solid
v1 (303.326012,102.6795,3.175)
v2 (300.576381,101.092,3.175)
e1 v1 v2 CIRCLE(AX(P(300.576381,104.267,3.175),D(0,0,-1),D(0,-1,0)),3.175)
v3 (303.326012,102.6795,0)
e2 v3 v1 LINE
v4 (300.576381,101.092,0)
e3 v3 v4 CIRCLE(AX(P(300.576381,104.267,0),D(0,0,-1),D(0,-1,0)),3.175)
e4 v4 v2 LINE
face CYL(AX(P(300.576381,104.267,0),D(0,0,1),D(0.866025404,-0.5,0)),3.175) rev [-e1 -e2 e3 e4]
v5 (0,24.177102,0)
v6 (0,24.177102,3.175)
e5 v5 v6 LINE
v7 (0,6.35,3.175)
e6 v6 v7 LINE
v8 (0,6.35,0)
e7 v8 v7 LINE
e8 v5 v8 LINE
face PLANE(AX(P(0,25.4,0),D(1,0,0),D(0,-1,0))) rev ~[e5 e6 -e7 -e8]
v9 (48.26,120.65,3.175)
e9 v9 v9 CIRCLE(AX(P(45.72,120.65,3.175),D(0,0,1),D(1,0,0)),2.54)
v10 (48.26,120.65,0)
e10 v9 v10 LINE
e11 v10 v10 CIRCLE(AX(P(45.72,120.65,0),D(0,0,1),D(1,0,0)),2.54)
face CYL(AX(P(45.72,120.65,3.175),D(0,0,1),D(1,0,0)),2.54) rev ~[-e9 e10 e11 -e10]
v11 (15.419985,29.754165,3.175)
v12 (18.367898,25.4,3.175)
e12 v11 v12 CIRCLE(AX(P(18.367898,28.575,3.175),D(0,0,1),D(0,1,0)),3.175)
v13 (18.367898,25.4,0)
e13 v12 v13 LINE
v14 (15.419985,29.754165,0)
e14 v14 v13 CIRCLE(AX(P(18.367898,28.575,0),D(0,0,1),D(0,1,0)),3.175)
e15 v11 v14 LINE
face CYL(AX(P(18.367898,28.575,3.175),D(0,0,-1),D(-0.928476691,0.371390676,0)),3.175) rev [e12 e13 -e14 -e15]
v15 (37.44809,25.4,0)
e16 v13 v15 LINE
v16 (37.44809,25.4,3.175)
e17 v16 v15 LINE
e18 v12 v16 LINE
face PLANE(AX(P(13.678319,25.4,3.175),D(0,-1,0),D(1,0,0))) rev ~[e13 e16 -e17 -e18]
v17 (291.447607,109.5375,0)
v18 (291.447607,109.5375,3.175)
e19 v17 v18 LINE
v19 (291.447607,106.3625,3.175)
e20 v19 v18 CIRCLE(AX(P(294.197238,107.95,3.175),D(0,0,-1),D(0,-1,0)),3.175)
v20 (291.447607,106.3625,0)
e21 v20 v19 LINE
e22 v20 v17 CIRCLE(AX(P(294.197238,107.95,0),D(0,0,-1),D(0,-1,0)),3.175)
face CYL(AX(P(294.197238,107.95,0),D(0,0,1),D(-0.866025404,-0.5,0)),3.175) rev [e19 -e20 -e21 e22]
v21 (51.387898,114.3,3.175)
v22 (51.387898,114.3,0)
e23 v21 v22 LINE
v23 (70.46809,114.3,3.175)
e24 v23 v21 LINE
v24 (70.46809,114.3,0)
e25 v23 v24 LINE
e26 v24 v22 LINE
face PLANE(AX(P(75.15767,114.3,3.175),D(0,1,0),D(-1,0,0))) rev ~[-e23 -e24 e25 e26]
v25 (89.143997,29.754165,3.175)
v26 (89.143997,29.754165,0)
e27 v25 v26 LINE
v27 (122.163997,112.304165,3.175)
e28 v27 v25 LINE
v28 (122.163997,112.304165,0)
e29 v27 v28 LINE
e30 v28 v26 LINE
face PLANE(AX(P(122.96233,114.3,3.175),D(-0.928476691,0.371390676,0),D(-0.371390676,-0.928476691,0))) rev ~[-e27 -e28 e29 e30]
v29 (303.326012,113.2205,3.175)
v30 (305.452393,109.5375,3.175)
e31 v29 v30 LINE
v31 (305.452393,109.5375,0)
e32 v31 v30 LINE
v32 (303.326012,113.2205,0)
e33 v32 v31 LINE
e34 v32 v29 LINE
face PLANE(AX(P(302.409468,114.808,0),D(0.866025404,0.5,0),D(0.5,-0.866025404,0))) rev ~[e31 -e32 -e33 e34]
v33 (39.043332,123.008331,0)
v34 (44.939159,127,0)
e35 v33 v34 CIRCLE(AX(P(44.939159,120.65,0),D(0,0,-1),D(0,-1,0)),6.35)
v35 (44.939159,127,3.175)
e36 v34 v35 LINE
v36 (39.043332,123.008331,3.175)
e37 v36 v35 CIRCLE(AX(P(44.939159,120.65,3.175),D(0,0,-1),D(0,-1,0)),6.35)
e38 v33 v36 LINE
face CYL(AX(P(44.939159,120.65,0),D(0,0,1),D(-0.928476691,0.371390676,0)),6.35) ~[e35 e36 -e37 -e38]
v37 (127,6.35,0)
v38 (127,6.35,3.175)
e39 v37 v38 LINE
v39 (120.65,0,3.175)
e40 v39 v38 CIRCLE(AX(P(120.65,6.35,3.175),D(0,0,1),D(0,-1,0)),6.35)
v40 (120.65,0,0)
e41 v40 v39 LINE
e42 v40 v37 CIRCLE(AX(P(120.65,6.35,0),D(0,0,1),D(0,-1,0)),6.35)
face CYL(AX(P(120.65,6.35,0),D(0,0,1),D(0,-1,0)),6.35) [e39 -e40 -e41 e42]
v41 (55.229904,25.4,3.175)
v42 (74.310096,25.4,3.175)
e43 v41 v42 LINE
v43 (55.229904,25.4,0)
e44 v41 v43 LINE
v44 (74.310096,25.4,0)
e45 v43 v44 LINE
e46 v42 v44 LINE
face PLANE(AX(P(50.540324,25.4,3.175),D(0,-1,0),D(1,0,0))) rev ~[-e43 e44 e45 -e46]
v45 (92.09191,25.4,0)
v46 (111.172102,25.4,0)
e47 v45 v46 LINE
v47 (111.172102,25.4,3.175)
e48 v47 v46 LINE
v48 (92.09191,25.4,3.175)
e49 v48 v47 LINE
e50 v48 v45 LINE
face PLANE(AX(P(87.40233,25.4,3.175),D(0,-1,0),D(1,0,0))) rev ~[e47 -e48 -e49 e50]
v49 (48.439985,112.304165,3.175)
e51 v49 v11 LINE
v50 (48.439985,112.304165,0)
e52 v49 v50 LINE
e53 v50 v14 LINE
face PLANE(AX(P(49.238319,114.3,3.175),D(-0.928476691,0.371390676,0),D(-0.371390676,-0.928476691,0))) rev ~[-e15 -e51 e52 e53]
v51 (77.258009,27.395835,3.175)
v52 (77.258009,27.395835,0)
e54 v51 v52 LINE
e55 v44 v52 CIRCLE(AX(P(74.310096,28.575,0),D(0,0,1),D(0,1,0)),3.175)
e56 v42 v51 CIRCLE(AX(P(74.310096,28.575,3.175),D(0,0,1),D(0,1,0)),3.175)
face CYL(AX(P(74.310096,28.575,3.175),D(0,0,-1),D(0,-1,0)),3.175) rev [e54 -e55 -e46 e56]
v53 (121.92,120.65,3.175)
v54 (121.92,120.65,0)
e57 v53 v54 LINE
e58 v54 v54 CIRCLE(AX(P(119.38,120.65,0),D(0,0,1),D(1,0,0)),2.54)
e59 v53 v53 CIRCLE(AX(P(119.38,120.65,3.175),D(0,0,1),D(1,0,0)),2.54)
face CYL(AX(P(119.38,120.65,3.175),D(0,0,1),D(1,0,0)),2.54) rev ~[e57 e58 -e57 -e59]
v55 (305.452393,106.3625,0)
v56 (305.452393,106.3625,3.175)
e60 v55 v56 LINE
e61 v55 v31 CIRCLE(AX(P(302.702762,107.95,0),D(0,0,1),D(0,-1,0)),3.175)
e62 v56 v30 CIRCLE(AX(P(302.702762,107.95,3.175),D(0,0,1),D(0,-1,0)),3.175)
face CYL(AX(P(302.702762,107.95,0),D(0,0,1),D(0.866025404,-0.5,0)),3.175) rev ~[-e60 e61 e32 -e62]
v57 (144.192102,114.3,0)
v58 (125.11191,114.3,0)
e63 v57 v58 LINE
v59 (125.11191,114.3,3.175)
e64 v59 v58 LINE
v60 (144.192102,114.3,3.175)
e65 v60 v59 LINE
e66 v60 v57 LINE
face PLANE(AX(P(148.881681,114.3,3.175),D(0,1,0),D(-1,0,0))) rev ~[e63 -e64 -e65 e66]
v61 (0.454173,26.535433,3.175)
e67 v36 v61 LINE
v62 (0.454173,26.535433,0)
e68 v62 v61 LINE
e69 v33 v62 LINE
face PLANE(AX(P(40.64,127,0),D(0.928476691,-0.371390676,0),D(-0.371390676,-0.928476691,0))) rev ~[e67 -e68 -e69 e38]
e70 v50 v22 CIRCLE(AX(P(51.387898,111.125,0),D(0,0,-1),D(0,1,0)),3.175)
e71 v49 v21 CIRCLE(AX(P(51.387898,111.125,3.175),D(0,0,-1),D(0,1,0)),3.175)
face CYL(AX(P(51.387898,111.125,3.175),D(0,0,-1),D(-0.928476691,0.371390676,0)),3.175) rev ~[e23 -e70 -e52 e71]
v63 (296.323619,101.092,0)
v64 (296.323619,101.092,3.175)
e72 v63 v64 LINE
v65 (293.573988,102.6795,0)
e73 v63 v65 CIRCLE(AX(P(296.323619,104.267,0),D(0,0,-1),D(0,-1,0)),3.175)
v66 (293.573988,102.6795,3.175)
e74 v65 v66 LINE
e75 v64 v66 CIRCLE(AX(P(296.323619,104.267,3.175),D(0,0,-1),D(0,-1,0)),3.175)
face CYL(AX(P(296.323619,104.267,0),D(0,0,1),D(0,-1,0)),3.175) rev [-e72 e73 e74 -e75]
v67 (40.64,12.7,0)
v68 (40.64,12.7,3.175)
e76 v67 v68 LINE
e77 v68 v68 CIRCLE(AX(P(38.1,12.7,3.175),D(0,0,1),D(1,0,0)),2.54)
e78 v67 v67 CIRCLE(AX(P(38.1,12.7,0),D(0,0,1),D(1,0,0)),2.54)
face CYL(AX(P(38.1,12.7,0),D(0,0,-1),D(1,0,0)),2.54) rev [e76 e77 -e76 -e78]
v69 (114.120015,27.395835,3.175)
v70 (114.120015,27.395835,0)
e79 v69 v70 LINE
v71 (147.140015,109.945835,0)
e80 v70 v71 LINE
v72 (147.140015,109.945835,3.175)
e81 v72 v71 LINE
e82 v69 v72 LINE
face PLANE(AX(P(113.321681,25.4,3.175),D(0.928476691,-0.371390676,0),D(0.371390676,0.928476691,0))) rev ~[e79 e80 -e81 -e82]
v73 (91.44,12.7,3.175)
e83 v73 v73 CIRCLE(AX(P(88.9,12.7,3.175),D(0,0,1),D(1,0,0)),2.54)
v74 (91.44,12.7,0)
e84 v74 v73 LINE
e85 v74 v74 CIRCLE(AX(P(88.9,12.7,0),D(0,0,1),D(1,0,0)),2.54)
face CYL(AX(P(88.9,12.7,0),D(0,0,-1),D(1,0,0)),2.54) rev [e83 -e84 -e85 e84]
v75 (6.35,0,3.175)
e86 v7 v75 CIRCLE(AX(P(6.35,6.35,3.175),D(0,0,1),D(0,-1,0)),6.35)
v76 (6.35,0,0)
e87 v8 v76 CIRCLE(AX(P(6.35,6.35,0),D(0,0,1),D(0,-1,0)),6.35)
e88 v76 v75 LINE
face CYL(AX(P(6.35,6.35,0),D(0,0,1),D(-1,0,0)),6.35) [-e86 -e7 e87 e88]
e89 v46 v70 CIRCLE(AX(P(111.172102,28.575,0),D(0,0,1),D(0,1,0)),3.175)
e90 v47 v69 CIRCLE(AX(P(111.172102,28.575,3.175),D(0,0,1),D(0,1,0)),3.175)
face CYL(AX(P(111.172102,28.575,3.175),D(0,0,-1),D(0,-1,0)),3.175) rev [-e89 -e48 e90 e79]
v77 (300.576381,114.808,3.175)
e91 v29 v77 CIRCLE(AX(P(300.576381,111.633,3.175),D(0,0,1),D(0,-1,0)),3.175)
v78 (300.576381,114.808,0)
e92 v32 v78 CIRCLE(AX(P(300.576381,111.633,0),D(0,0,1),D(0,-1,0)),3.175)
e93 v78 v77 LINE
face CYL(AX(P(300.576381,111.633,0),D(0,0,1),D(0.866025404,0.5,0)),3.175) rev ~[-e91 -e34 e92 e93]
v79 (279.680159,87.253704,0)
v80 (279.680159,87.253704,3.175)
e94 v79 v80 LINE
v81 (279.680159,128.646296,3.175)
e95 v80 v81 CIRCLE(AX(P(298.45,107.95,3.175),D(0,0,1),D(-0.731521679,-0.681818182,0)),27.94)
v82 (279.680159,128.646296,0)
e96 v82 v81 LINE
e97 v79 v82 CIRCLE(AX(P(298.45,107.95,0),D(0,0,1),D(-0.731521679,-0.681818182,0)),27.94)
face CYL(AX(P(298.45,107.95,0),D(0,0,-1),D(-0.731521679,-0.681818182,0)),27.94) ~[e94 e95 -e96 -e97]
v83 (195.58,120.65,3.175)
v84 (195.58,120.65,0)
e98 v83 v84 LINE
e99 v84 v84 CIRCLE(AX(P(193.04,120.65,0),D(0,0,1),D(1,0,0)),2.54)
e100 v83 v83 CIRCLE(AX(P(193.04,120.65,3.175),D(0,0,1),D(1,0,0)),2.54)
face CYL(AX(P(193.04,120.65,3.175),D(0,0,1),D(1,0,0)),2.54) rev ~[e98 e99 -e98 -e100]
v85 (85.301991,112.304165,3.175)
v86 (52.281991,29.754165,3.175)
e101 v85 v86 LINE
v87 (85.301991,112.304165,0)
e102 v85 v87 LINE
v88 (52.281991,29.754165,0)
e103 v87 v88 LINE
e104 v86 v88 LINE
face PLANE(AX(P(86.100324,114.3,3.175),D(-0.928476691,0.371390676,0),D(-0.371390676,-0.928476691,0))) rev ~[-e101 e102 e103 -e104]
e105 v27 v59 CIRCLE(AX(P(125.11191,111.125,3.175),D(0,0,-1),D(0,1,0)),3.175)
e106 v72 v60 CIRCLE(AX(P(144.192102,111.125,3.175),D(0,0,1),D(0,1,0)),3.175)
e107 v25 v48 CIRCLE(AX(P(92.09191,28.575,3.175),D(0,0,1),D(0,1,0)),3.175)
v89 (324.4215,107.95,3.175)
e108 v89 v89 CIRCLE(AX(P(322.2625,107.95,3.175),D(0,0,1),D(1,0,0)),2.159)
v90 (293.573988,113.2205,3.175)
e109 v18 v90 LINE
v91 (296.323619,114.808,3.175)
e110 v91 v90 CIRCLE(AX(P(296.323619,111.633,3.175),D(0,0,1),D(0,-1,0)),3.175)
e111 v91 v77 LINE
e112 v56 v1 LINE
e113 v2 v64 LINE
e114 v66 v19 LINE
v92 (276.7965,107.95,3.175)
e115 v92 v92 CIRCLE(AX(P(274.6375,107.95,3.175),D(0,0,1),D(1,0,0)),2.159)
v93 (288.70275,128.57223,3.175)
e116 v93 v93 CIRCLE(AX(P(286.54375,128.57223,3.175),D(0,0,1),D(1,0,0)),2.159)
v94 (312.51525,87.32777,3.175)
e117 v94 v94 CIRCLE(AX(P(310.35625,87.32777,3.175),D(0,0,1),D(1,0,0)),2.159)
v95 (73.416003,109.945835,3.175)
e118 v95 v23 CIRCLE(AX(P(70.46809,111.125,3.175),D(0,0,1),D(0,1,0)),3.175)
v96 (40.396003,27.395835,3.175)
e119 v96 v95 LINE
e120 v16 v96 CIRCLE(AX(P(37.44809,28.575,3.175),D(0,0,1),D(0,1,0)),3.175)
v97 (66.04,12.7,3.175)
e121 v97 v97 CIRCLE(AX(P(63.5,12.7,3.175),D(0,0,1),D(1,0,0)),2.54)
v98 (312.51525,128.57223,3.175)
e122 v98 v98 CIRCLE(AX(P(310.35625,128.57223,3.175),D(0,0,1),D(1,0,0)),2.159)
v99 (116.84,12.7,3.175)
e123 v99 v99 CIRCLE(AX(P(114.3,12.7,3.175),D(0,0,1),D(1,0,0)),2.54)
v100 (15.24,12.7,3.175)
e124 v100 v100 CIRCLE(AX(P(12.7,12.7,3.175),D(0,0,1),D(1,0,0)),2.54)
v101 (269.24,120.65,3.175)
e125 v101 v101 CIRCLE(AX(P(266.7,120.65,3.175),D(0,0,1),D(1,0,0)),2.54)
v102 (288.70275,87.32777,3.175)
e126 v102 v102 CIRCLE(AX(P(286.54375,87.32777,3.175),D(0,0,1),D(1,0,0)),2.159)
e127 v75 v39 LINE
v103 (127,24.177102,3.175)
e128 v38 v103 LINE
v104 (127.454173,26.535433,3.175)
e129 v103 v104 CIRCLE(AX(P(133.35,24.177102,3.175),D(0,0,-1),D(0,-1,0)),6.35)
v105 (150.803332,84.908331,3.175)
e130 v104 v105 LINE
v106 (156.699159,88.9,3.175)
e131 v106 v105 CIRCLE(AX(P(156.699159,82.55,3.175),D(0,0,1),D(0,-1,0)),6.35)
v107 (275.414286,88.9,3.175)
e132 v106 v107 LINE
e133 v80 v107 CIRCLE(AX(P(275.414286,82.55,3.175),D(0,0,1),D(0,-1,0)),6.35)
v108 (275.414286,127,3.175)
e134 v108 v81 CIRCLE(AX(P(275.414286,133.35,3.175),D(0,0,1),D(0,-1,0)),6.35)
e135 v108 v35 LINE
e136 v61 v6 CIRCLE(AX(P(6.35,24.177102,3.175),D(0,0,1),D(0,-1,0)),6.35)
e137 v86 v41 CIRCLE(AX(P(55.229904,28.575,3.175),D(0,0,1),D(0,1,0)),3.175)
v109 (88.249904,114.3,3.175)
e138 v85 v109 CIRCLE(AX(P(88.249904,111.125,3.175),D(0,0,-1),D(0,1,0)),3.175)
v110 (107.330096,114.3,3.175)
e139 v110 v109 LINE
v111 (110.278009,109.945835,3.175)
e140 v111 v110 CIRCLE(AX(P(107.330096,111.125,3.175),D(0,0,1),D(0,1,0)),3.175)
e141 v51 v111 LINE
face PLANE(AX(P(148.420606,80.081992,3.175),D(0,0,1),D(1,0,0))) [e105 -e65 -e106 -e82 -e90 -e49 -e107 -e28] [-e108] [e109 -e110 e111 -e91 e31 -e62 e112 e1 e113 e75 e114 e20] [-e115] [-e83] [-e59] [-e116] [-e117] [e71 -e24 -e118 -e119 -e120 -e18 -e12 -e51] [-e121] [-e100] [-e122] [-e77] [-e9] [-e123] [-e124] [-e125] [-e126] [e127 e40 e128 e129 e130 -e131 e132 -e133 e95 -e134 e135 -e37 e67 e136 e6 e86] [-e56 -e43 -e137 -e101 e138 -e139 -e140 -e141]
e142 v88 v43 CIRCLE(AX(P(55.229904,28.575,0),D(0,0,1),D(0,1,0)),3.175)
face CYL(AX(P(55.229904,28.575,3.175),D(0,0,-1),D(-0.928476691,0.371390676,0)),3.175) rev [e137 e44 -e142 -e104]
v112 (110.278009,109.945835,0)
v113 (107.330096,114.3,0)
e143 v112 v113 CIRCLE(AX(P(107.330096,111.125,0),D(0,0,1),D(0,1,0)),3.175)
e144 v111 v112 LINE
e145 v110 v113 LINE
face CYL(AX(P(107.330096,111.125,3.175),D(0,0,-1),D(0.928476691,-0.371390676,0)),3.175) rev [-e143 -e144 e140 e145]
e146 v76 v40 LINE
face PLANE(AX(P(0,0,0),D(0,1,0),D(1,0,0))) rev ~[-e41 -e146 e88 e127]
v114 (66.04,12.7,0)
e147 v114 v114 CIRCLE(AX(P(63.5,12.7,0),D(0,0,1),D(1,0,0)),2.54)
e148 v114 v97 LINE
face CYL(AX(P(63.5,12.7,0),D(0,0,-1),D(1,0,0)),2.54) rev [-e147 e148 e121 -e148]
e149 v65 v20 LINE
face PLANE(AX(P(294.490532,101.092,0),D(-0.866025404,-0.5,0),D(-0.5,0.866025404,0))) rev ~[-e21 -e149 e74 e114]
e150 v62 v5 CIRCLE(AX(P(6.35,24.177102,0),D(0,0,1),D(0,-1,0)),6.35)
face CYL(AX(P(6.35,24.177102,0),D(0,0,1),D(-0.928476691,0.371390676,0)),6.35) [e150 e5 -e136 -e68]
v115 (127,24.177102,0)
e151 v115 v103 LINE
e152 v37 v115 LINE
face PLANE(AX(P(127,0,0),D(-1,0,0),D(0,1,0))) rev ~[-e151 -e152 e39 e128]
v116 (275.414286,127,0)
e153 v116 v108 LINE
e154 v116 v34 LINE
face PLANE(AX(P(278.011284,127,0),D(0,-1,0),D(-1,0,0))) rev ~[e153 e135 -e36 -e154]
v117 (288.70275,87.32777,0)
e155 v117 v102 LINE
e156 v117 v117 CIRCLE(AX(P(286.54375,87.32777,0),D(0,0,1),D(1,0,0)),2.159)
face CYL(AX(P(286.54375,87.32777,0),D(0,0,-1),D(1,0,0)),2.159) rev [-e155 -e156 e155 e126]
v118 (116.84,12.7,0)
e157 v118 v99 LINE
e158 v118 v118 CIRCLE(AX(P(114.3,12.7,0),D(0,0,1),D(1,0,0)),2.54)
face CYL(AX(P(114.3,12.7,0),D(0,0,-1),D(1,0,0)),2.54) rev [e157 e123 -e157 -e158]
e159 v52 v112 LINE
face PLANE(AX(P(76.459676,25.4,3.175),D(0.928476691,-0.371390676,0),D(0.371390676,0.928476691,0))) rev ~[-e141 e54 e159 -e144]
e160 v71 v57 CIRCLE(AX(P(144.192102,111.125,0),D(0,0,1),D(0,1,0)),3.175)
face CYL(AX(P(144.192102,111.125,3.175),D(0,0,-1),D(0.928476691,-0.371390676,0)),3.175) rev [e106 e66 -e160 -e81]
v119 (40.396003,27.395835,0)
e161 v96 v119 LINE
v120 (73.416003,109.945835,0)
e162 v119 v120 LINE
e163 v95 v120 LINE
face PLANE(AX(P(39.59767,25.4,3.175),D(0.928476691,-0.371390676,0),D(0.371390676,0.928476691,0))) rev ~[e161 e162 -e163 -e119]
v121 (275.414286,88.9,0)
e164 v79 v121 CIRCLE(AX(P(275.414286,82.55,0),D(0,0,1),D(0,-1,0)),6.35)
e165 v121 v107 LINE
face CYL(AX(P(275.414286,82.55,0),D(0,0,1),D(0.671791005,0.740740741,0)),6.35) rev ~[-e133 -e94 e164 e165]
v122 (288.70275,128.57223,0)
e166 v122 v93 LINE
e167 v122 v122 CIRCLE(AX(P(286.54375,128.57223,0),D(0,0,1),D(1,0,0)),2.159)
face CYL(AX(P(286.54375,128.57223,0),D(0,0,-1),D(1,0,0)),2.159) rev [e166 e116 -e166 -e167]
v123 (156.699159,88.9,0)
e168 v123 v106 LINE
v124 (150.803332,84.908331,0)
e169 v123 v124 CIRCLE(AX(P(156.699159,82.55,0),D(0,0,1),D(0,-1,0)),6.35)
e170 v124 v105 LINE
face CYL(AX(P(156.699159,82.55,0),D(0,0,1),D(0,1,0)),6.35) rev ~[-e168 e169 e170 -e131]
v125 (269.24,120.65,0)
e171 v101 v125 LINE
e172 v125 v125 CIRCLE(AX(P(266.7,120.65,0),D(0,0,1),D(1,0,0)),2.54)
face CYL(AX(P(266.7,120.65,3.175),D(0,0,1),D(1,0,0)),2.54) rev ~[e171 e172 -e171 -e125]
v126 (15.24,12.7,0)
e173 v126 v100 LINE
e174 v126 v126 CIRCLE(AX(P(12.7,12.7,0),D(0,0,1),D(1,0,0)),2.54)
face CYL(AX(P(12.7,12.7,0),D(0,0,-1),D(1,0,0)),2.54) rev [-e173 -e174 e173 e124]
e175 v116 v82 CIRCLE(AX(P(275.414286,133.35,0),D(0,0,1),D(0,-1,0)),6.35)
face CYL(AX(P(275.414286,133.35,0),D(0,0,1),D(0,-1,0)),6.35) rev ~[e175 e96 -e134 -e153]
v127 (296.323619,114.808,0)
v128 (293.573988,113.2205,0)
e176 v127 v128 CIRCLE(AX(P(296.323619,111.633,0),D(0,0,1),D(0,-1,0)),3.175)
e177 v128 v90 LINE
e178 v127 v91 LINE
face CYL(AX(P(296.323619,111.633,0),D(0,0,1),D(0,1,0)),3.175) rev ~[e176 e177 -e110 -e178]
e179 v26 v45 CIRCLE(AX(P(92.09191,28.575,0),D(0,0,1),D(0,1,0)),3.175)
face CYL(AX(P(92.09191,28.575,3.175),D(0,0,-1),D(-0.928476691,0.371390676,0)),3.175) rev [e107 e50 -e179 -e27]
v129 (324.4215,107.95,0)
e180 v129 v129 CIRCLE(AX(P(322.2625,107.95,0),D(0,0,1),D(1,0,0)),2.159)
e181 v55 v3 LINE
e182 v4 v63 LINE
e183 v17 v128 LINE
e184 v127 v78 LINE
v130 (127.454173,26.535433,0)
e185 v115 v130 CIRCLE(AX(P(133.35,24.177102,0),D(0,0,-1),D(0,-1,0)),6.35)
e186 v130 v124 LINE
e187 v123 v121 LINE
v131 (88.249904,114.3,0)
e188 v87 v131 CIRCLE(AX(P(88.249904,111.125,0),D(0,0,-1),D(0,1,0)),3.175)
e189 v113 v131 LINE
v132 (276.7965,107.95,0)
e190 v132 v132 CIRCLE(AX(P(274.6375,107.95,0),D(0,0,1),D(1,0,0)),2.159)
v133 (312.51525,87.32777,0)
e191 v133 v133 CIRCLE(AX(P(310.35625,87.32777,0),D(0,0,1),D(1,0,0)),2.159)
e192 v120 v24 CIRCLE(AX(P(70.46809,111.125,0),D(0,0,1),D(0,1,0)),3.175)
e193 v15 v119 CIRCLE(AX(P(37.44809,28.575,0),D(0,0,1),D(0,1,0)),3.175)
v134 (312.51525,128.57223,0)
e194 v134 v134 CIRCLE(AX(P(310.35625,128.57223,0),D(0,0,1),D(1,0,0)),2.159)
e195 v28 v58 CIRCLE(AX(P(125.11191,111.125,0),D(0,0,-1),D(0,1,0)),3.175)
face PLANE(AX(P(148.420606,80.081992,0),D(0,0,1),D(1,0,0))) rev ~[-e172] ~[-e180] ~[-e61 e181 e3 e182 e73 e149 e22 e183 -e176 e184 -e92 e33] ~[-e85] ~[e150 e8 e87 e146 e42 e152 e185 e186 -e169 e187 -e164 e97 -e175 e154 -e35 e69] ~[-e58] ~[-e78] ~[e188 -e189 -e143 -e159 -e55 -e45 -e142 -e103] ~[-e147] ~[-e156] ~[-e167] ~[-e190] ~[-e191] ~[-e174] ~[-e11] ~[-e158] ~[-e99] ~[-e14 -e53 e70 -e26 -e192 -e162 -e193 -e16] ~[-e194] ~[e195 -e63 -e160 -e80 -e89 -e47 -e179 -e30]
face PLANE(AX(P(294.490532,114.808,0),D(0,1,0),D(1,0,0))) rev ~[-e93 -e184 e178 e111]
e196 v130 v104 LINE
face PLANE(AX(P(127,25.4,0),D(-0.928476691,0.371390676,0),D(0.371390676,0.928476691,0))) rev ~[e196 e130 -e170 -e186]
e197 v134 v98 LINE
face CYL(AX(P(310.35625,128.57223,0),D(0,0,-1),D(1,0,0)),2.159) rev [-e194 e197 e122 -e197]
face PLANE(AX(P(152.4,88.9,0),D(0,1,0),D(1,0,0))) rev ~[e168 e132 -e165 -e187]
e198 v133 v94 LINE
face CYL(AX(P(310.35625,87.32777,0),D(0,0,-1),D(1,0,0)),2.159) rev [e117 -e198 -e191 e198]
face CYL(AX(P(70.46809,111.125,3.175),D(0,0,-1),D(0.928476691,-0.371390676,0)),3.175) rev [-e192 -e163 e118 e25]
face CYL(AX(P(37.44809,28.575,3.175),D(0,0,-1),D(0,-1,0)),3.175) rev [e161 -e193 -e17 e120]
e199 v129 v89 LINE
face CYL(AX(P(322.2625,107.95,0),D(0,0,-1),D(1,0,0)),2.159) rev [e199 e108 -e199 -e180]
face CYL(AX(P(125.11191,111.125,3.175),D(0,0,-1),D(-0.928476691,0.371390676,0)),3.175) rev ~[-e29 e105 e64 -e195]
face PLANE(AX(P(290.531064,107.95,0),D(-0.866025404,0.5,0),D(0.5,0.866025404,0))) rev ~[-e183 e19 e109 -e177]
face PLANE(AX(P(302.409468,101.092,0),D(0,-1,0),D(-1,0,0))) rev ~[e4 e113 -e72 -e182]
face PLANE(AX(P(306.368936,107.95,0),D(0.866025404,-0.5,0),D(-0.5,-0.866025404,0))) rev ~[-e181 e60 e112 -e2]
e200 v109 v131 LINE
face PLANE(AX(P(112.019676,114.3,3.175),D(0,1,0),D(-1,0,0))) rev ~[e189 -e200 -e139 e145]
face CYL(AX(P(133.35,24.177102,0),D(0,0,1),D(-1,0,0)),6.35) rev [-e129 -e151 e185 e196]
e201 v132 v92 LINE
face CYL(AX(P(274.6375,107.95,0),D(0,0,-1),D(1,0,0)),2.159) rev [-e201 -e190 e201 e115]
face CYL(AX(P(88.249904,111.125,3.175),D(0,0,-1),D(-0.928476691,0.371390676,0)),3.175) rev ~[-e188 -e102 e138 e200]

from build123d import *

# Parameters (mm, degrees)
SKETCH1_R           = 2.54
SKETCH1_R_2         = 2.159
BOSS_EXTRUDE1_DEPTH = 3.175
FILLET1_R           = 6.35
CUT_EXTRUDE1_DEPTH  = 354.562731103
FILLET2_R           = 3.175
SKETCH3_R           = 2.54
CUT_EXTRUDE2_DEPTH  = 354.562731103
FILLET3_R           = 3.175


with BuildPart() as part:
    # Sketch1 → Boss-Extrude1 (new body)
    with BuildSketch(Plane.XY):
        with BuildLine():
            Line((40.64, 127), (0, 25.4))
            Line((0, 25.4), (0, 0))
            Line((0, 0), (127, 0))
            Line((127, 0), (127, 25.4))
            Line((127, 25.4), (152.4, 88.9))
            Line((152.4, 88.9), (278.011284287, 88.9))
            ThreePointArc((278.011284287, 88.9), (326.39, 107.95), (278.011284287, 127))
            Line((278.011284287, 127), (40.64, 127))
        make_face()
        with Locations((12.7, 12.7)):
            Circle(SKETCH1_R, mode=Mode.SUBTRACT)
        with Locations((38.1, 12.7)):
            Circle(SKETCH1_R, mode=Mode.SUBTRACT)
        with Locations((63.5, 12.7)):
            Circle(SKETCH1_R, mode=Mode.SUBTRACT)
        with Locations((88.9, 12.7)):
            Circle(SKETCH1_R, mode=Mode.SUBTRACT)
        with Locations((114.3, 12.7)):
            Circle(SKETCH1_R, mode=Mode.SUBTRACT)
        with Locations((286.54375, 128.572229928)):
            Circle(SKETCH1_R_2, mode=Mode.SUBTRACT)
        with Locations((310.35625, 128.572229928)):
            Circle(SKETCH1_R_2, mode=Mode.SUBTRACT)
        with Locations((310.35625, 87.327770072)):
            Circle(SKETCH1_R_2, mode=Mode.SUBTRACT)
        with Locations((286.54375, 87.327770072)):
            Circle(SKETCH1_R_2, mode=Mode.SUBTRACT)
        Polygon((302.409468146, 101.092), (294.490531854, 101.092), (290.531063708, 107.95), (294.490531854, 114.808), (302.409468146, 114.808), (306.368936292, 107.95), align=None, mode=Mode.SUBTRACT)
        with Locations((274.6375, 107.95)):
            Circle(SKETCH1_R_2, mode=Mode.SUBTRACT)
        with Locations((322.2625, 107.95)):
            Circle(SKETCH1_R_2, mode=Mode.SUBTRACT)
    extrude(amount=BOSS_EXTRUDE1_DEPTH)

    # Fillet1
    fillet1_edges = [part.edges().sort_by_distance(p)[0] for p in [
        (278.011284287, 88.9, 1.5875),
        (152.4, 88.9, 1.5875),
        (127, 25.4, 1.5875),
        (127, 0, 1.5875),
        (0, 0, 1.5875),
        (0, 25.4, 1.5875),
        (40.64, 127, 1.5875),
        (278.011284287, 127, 1.5875),
    ]]
    fillet(fillet1_edges, radius=FILLET1_R)

    # Sketch2 → Cut-Extrude1 (cut, through all)
    with BuildSketch(Plane.XY.offset(3.175)):
        Polygon((49.23831861, 114.3), (13.67831861, 25.4), (39.597669611, 25.4), (75.157669611, 114.3), align=None)
        Polygon((86.100324499, 114.3), (50.540324499, 25.4), (76.459675501, 25.4), (112.019675501, 114.3), align=None)
        Polygon((122.962330389, 114.3), (87.402330389, 25.4), (113.32168139, 25.4), (148.88168139, 114.3), align=None)
    extrude(amount=-CUT_EXTRUDE1_DEPTH, mode=Mode.SUBTRACT)

    # Fillet2
    fillet2_edges = [part.edges().sort_by_distance(p)[0] for p in [
        (76.459675501, 25.4, 1.5875),
        (50.540324499, 25.4, 1.5875),
        (86.100324499, 114.3, 1.5875),
        (112.019675501, 114.3, 1.5875),
        (148.88168139, 114.3, 1.5875),
        (113.32168139, 25.4, 1.5875),
        (87.402330389, 25.4, 1.5875),
        (122.962330389, 114.3, 1.5875),
        (39.597669611, 25.4, 1.5875),
        (13.67831861, 25.4, 1.5875),
        (49.23831861, 114.3, 1.5875),
        (75.157669611, 114.3, 1.5875),
    ]]
    fillet(fillet2_edges, radius=FILLET2_R)

    # Sketch3 → Cut-Extrude2 (cut, through all)
    with BuildSketch(Plane.XY.offset(3.175)):
        with Locations((45.72, 120.65)):
            Circle(SKETCH3_R)
        with Locations((119.38, 120.65)):
            Circle(SKETCH3_R)
        with Locations((193.04, 120.65)):
            Circle(SKETCH3_R)
        with Locations((266.7, 120.65)):
            Circle(SKETCH3_R)
    extrude(amount=-CUT_EXTRUDE2_DEPTH, mode=Mode.SUBTRACT)

    # Fillet3
    fillet3_edges = [part.edges().sort_by_distance(p)[0] for p in [
        (302.409468146, 101.092, 1.5875),
        (306.368936292, 107.95, 1.5875),
        (302.409468146, 114.808, 1.5875),
        (294.490531854, 114.808, 1.5875),
        (290.531063708, 107.95, 1.5875),
        (294.490531854, 101.092, 1.5875),
    ]]
    fillet(fillet3_edges, radius=FILLET3_R)


solid = part.part
